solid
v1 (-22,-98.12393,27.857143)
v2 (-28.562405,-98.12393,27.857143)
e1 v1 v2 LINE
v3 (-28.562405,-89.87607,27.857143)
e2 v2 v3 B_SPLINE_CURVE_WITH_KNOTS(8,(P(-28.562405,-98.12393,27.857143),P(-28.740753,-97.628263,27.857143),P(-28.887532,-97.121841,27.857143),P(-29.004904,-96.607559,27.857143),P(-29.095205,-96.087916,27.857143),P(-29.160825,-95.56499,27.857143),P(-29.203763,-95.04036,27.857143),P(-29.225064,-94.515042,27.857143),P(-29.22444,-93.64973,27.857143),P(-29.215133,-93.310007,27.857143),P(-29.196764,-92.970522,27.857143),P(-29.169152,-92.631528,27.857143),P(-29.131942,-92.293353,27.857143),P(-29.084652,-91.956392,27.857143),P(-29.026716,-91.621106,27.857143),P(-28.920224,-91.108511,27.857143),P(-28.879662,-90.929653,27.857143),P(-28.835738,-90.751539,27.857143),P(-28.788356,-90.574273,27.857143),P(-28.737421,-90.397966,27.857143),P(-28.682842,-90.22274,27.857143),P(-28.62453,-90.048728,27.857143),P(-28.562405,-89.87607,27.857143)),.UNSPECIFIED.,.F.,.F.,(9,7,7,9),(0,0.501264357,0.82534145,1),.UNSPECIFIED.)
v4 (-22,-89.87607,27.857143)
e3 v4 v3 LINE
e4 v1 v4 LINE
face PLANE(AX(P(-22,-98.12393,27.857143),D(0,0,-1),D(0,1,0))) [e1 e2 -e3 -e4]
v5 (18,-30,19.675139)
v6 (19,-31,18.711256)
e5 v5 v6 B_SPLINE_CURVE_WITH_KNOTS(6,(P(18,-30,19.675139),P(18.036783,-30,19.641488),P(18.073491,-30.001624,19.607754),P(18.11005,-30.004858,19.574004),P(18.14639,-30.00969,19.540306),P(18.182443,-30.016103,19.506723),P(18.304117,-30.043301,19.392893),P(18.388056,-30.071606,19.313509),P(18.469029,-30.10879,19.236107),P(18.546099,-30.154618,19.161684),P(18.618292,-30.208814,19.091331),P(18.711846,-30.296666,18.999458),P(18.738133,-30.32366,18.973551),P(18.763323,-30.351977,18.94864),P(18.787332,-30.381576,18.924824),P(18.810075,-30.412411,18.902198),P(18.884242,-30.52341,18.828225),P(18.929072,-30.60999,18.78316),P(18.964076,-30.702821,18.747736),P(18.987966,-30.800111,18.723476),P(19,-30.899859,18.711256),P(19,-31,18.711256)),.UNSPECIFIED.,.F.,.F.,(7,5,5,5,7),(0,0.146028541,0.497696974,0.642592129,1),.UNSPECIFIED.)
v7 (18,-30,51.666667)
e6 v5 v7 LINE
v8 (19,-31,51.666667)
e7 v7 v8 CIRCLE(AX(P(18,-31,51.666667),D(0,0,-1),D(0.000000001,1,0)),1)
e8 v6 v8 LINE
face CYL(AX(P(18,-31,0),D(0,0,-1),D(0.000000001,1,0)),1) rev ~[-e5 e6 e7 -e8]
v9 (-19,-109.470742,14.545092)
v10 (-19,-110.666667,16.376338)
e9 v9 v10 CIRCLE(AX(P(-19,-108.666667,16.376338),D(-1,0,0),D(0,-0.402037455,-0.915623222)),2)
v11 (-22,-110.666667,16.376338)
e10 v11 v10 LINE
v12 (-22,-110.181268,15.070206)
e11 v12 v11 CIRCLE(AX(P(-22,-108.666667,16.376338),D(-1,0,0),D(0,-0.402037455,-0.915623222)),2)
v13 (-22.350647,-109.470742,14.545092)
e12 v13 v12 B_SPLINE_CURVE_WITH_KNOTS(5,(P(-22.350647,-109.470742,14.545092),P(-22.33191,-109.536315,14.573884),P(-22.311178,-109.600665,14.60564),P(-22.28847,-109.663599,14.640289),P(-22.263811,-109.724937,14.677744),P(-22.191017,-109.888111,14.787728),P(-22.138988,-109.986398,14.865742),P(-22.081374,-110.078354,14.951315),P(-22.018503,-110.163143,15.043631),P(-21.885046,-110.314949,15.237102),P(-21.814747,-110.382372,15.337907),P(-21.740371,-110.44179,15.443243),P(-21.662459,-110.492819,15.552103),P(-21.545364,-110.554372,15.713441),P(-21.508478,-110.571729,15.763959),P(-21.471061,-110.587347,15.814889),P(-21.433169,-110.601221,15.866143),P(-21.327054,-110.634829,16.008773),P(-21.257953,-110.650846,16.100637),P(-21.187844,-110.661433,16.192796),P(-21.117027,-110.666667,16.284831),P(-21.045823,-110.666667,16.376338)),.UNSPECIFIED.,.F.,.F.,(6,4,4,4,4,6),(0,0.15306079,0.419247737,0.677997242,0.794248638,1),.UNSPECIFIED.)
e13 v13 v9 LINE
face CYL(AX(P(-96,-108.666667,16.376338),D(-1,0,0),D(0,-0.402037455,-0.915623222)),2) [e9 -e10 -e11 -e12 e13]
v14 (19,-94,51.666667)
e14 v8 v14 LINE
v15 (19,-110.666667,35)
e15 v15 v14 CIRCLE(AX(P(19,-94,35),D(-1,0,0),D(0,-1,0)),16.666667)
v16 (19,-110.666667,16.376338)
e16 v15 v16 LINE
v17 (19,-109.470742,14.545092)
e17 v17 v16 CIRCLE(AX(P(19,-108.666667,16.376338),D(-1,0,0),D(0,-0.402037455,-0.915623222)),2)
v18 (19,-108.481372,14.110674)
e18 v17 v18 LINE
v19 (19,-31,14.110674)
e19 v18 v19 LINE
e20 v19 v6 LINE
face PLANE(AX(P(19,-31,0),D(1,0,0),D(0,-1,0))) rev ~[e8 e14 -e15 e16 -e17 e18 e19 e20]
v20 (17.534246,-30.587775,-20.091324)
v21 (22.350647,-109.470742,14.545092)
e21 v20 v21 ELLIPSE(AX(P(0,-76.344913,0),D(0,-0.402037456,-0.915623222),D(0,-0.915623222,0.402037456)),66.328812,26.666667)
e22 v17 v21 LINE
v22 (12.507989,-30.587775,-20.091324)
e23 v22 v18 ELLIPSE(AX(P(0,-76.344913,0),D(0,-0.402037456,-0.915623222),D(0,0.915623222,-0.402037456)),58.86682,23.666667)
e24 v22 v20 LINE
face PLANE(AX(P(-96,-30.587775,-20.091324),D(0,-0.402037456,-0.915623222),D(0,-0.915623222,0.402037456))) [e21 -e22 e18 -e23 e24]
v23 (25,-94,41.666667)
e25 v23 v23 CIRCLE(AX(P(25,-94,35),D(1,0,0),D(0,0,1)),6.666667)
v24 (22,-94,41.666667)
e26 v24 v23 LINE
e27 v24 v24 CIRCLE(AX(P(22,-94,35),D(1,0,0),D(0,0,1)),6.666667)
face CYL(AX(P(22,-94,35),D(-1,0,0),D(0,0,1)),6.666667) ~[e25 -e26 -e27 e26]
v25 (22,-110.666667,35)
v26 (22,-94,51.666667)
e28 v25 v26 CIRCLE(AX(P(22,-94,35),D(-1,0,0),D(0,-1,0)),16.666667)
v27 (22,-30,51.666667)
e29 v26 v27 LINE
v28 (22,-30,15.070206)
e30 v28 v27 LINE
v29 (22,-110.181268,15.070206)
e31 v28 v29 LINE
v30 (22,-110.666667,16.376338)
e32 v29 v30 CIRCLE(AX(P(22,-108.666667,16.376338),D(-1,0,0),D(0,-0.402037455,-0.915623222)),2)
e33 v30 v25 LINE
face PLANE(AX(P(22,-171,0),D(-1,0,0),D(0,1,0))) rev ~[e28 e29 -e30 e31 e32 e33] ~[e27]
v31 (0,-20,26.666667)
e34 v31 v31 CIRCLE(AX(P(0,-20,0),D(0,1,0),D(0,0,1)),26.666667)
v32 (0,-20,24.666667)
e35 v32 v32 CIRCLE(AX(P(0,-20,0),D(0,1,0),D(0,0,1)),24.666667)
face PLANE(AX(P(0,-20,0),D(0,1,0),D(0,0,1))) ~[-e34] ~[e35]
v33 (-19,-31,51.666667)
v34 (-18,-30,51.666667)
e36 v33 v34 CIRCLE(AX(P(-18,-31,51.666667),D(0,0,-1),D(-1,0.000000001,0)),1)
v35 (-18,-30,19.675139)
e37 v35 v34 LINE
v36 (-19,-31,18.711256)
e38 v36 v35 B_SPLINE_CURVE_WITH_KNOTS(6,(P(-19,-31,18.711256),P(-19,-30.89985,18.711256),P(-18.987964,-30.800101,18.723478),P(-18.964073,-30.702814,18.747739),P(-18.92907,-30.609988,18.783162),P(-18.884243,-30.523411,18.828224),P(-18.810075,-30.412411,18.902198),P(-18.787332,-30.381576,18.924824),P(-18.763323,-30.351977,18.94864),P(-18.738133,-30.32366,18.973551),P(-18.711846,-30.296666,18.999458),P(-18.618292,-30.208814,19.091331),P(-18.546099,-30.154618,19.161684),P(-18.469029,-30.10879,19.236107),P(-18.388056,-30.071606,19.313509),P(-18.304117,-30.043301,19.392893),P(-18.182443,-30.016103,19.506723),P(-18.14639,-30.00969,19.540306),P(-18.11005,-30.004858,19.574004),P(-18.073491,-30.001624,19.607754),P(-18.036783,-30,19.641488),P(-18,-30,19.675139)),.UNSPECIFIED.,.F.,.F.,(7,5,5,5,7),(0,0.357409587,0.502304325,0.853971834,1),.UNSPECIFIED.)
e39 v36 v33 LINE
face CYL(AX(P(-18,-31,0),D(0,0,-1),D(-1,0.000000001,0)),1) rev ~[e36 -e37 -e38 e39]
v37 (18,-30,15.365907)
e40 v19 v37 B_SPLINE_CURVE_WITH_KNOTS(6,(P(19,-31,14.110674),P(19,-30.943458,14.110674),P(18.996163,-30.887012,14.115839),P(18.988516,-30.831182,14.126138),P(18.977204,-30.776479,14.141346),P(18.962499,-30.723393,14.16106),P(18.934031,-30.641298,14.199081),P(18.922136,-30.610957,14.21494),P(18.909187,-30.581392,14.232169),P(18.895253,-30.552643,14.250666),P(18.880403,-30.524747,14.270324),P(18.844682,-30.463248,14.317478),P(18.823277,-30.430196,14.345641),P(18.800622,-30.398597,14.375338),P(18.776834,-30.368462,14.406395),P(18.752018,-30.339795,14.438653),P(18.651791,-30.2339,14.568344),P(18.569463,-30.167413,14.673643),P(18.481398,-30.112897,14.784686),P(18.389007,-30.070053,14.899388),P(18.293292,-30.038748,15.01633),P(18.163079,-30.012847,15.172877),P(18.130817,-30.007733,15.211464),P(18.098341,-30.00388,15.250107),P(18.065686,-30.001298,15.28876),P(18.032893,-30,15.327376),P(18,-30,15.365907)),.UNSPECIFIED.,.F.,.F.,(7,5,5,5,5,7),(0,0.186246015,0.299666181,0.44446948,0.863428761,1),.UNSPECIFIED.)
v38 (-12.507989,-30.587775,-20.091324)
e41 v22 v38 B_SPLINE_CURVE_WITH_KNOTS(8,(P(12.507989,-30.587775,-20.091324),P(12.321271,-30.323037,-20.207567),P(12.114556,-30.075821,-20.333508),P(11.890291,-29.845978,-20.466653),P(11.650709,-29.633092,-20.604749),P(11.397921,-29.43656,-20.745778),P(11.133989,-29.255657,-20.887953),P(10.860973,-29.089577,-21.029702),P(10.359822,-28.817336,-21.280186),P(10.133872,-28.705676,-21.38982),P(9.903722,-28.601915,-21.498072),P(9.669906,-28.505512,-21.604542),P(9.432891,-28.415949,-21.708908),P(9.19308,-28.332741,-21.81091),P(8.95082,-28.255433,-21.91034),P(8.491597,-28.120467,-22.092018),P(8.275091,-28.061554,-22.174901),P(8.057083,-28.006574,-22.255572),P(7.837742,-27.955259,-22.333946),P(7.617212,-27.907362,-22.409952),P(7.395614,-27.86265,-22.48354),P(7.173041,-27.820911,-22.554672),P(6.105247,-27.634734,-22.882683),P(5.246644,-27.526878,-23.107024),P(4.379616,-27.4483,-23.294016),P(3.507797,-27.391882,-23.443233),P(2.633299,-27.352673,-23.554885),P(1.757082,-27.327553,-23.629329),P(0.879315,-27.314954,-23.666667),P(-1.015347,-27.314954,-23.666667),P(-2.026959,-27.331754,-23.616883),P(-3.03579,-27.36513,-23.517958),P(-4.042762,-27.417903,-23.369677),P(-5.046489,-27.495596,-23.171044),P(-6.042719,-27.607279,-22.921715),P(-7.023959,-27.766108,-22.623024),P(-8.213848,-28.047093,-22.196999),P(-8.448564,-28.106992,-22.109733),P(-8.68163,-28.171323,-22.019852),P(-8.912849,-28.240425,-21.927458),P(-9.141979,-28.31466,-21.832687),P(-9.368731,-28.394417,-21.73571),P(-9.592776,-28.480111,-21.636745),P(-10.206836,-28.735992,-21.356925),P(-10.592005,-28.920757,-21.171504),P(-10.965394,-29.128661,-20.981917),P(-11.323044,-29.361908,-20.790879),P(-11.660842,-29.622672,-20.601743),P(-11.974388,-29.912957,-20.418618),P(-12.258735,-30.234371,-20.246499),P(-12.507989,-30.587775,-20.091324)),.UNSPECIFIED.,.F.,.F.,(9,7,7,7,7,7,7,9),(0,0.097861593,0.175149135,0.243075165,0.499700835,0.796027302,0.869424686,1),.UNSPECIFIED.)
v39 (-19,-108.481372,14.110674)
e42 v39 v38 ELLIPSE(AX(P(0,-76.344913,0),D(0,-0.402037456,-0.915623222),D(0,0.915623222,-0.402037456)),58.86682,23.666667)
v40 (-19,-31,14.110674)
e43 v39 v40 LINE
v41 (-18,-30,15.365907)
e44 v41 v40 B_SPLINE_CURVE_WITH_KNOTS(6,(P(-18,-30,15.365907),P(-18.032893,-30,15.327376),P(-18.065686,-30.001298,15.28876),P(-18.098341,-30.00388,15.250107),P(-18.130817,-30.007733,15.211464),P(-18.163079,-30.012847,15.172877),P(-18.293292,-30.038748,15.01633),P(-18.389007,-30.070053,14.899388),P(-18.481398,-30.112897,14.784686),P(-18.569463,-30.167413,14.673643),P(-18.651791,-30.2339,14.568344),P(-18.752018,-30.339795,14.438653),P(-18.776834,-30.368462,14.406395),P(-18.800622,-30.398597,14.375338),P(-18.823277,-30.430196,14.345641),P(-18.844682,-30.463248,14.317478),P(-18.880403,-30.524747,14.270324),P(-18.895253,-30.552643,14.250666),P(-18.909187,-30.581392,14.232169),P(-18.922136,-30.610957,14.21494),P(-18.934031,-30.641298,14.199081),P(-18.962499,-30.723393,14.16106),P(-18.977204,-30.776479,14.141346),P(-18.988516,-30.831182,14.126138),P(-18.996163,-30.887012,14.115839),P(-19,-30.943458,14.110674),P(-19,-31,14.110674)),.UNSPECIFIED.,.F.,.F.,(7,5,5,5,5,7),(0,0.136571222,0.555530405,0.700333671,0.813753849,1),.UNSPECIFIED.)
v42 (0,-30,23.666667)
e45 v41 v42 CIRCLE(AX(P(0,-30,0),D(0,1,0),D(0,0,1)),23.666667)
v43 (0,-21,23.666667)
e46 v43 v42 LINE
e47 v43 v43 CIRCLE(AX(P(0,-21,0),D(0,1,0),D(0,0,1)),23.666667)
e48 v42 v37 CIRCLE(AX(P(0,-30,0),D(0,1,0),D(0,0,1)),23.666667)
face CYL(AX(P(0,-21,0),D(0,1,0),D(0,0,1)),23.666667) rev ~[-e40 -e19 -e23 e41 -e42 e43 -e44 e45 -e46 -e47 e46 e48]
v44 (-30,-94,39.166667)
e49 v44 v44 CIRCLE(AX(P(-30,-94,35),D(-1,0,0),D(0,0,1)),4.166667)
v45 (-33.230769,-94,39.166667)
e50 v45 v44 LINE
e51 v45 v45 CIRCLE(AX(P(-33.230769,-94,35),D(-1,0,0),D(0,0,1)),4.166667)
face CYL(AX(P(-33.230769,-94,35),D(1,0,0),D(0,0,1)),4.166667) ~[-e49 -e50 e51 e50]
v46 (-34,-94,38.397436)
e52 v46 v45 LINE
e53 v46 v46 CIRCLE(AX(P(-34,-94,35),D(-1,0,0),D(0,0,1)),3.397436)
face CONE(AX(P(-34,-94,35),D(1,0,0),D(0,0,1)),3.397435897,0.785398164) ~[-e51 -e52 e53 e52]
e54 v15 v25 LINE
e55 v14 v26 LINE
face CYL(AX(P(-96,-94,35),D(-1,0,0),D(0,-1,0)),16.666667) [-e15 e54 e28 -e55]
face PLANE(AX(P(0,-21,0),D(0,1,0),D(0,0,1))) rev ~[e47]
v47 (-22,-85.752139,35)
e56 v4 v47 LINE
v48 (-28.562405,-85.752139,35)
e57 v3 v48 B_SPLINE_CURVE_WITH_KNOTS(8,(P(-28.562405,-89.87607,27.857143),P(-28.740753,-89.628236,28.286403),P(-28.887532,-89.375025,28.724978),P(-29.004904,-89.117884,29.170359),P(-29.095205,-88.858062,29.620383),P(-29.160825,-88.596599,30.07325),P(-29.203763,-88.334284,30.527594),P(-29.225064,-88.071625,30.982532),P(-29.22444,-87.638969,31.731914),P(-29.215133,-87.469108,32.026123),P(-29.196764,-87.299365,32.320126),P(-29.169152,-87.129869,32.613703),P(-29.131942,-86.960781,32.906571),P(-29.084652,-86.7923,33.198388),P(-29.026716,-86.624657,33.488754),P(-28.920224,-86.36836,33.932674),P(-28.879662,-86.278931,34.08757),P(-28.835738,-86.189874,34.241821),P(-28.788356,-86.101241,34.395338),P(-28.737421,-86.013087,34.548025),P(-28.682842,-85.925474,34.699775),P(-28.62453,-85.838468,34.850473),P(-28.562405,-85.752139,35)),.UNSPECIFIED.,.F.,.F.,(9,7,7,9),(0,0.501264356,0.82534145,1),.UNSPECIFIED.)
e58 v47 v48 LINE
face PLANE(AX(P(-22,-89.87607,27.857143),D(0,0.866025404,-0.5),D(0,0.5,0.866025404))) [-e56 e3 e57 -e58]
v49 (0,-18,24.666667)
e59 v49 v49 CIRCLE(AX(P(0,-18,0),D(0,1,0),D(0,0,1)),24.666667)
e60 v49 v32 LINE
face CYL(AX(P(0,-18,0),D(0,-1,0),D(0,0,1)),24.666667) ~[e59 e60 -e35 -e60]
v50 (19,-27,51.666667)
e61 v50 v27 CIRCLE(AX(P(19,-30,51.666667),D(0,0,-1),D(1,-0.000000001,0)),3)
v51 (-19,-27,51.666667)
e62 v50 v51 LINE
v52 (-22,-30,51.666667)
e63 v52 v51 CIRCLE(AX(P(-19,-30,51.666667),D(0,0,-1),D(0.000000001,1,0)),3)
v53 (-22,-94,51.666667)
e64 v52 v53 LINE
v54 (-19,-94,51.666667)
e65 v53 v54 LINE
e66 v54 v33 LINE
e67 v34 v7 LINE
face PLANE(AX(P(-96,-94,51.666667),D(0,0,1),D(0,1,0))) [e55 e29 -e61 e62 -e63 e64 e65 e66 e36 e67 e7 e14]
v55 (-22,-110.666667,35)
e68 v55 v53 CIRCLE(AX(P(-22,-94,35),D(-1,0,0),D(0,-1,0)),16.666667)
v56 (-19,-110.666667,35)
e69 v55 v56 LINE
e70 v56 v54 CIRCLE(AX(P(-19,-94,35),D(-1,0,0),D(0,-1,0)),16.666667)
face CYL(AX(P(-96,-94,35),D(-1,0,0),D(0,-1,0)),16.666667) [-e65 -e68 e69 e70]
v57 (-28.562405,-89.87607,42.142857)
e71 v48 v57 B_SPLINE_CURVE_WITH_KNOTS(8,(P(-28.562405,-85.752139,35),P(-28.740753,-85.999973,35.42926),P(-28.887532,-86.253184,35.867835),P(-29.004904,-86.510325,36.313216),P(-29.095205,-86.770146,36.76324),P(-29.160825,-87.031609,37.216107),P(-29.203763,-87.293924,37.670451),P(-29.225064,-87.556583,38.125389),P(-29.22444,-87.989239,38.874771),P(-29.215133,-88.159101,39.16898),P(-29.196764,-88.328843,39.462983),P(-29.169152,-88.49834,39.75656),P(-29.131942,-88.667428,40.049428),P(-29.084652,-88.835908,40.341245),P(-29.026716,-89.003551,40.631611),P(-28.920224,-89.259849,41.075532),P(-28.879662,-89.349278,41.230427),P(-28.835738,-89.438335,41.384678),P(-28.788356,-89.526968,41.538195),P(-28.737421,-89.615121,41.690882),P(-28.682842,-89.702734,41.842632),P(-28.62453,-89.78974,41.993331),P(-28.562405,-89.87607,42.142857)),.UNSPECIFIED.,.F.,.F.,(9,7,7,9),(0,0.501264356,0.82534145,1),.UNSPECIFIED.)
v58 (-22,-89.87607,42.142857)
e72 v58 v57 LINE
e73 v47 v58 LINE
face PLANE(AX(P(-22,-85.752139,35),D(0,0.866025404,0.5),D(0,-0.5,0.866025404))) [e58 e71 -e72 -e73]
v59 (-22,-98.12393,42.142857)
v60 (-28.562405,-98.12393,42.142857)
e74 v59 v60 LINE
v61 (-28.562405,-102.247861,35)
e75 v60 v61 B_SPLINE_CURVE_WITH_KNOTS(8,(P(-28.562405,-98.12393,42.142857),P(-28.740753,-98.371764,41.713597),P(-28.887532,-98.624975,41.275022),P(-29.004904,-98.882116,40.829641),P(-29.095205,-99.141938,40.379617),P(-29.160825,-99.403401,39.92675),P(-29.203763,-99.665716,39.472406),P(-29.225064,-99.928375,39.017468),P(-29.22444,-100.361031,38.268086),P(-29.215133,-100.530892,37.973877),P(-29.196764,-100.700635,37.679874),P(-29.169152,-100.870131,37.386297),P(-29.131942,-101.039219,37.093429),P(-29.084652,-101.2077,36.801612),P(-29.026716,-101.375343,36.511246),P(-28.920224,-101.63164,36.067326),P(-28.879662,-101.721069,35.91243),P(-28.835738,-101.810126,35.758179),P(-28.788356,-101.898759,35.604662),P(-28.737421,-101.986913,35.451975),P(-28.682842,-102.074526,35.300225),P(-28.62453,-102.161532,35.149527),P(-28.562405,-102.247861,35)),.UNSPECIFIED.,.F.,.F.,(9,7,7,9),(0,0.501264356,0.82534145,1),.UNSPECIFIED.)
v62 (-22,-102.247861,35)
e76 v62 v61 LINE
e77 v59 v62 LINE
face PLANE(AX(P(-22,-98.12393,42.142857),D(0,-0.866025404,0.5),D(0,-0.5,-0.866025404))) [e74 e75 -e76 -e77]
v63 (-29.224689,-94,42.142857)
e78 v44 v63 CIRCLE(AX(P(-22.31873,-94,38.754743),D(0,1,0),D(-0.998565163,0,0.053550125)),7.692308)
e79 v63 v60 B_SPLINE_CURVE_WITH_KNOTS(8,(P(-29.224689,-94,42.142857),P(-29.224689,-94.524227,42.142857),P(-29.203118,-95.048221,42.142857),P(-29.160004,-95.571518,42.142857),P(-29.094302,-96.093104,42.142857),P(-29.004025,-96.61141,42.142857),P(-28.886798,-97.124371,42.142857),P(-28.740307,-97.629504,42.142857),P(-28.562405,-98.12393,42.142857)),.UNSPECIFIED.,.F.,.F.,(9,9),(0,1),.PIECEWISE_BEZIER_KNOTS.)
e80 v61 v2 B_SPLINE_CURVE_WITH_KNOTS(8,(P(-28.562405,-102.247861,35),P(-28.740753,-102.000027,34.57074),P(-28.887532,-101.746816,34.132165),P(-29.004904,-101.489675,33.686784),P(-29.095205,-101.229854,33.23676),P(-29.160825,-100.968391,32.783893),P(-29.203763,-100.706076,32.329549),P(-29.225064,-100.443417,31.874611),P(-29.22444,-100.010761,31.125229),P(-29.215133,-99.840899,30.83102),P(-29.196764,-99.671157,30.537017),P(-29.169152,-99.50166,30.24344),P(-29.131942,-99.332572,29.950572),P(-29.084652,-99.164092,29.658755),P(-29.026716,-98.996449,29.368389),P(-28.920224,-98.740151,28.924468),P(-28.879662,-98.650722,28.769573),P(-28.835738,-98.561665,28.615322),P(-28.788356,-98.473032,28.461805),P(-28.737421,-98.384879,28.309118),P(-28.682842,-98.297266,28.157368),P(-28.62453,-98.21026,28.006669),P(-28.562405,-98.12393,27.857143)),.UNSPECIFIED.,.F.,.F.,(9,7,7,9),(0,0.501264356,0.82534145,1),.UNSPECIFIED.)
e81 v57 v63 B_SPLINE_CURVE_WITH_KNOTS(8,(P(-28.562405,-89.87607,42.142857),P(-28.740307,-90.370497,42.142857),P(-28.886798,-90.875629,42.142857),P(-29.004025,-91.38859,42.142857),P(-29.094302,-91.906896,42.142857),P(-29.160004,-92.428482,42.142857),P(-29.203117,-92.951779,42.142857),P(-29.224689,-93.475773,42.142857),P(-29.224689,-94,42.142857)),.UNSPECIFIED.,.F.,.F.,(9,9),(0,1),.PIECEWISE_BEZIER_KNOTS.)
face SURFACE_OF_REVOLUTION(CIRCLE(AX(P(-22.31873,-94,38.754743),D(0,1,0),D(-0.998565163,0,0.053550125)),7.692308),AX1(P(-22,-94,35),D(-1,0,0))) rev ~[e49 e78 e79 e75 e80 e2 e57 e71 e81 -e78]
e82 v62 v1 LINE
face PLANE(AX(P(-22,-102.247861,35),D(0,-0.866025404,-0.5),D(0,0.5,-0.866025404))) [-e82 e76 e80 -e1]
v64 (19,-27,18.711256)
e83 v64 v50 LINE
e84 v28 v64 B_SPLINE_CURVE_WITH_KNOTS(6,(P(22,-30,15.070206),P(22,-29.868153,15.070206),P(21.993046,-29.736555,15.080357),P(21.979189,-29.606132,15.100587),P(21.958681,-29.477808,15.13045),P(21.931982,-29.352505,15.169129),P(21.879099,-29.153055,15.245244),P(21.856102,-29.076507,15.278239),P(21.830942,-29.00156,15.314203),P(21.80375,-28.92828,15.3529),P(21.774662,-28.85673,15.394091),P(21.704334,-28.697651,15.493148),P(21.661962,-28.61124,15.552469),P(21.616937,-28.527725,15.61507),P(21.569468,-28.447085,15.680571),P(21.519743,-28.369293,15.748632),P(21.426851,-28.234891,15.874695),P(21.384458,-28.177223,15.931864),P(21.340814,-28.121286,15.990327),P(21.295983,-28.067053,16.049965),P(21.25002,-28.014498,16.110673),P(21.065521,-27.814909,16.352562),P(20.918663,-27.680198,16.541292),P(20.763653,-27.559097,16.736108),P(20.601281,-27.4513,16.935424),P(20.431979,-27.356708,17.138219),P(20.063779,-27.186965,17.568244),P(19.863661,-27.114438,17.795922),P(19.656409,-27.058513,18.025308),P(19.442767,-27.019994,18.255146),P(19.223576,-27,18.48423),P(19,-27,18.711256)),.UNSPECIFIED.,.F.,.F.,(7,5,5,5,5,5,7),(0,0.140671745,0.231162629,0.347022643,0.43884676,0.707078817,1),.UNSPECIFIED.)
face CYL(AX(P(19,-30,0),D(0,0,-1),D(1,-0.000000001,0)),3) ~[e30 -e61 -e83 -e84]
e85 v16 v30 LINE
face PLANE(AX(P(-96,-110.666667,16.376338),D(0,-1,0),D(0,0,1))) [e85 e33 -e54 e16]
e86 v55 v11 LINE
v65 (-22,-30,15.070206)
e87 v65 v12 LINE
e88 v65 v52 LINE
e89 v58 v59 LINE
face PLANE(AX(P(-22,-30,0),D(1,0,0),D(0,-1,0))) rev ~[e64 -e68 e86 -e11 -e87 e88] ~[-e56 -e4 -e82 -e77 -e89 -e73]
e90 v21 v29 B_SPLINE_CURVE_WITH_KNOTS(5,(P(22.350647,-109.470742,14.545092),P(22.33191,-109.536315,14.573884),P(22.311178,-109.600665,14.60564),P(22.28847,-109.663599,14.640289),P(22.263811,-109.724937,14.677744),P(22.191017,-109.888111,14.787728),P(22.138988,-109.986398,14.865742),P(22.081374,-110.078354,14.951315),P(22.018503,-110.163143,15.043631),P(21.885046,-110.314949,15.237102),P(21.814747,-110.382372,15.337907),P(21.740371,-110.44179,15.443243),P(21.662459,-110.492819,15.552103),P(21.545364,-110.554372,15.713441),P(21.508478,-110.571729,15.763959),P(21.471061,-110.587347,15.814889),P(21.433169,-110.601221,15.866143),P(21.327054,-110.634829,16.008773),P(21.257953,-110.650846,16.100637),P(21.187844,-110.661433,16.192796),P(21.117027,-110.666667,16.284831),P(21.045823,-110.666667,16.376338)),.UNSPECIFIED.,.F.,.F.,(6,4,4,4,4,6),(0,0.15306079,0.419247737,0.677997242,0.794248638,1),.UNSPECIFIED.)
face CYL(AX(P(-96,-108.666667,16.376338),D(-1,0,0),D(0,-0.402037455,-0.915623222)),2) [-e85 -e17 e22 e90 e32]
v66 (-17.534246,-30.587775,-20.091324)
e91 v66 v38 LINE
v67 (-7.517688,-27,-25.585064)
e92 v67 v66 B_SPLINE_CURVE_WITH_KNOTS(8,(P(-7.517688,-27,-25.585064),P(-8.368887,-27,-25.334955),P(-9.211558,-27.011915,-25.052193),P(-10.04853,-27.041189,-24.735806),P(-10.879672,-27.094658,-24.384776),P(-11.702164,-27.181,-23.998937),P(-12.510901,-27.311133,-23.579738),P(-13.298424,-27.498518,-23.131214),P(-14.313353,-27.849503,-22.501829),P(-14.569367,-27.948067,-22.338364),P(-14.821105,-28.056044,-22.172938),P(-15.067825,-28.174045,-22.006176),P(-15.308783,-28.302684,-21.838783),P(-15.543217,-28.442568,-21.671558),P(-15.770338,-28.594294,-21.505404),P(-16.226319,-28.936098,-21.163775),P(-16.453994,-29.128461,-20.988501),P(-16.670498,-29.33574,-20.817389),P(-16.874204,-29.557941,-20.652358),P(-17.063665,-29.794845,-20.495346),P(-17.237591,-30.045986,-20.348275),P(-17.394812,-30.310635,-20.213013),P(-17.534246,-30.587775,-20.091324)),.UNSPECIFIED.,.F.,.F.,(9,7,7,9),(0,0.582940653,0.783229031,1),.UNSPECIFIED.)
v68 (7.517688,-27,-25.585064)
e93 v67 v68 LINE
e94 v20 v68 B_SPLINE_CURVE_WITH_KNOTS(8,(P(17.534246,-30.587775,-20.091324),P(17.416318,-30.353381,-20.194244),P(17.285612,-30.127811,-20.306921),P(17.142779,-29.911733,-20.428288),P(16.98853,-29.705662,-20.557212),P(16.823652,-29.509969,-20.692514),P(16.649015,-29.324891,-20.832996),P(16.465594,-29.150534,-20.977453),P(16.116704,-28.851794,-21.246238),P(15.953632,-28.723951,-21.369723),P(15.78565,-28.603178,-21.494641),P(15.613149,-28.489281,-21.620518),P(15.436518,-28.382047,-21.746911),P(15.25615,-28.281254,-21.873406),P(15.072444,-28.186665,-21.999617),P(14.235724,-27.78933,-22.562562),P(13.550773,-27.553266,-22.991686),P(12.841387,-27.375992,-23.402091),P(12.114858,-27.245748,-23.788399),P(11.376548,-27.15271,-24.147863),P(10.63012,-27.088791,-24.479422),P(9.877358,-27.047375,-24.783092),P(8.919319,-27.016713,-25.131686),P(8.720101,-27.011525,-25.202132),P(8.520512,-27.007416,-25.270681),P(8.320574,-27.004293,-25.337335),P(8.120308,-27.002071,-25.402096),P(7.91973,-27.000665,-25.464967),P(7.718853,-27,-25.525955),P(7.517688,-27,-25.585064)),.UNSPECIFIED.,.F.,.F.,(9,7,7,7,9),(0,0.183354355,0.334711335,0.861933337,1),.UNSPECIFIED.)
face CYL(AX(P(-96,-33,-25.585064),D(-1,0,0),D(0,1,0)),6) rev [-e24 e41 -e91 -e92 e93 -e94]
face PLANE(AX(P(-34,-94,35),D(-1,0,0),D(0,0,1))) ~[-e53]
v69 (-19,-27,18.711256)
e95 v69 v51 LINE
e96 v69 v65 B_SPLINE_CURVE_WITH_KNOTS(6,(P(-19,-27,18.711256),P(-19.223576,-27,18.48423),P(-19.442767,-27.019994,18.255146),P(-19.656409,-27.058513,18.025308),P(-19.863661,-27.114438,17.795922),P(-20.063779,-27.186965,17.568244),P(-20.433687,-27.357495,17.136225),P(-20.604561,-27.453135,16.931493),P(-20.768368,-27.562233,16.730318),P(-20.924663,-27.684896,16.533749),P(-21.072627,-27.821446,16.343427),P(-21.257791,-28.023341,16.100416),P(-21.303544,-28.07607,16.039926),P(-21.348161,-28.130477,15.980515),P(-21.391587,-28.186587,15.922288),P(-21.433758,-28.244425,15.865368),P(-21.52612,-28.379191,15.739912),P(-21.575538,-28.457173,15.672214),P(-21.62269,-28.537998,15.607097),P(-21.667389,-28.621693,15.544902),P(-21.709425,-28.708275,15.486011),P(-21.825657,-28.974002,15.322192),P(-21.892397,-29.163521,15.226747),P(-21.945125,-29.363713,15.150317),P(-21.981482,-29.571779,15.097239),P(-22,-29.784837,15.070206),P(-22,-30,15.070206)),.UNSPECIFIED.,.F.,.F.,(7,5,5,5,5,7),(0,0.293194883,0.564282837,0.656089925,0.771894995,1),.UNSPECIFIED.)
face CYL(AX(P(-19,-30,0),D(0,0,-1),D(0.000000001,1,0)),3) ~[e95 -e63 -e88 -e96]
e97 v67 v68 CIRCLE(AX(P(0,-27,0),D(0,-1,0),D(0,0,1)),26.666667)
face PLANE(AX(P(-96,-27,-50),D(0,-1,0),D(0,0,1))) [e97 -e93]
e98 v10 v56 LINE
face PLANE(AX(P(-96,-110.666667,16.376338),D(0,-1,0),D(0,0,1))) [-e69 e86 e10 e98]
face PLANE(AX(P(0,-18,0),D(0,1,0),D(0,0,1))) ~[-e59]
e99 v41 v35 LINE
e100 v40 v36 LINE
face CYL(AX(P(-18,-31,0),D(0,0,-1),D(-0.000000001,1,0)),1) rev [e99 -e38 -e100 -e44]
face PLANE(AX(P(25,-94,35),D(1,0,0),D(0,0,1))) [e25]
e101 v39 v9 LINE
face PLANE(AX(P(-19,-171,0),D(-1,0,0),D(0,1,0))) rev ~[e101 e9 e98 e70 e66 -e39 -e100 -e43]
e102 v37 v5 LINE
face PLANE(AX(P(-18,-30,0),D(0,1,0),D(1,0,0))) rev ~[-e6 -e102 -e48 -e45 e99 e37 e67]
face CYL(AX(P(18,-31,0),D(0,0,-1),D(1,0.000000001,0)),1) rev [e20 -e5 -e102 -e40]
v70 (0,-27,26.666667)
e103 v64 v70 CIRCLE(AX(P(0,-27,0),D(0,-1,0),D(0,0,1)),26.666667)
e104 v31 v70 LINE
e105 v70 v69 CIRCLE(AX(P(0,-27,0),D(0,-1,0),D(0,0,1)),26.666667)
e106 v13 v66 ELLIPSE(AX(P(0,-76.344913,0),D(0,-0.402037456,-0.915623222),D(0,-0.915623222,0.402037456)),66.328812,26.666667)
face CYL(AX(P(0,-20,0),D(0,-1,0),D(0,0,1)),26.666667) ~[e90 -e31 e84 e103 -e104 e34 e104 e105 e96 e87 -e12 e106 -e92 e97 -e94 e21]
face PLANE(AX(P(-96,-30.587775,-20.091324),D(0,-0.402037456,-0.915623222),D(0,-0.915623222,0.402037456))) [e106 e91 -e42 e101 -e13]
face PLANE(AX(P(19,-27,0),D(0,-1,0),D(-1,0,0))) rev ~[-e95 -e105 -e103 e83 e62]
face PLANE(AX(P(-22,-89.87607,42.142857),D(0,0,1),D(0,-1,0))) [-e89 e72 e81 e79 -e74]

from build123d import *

# Parameters (mm, degrees)
EXTRUDE_1_DEPTH          = 96
CUT_EXTRUDE_1_DEPTH      = 96
SKETCH_4_R               = 23.666666667
CUT_EXTRUDE_2_DEPTH      = 144
CUT_EXTRUDE_3_DEPTH      = 96
CUT_EXTRUDE_3_DEPTH_BACK = 96
SKETCH_7_R               = 9.192307692
CUT_EXTRUDE_4_DEPTH      = 20
SKETCH_8_R               = 6.666666667
EXTRUDE_2_DEPTH          = 3


with BuildPart() as part:
    # 草图1 → 旋转1 (revolve)
    with BuildSketch(Plane.XY, mode=Mode.PRIVATE) as revolve_1_sk:
        Polygon((0, -18), (24.666666667, -18), (24.666666667, -20), (26.666666667, -20), (26.666666667, -162), (0, -162), align=None)
    revolve(revolve_1_sk.sketch.rotate(Axis((0, -162, 0), (0, 1, 0)), 270), axis=Axis((0, -162, 0), (0, 1, 0)))

    # 草图2 → 凸台-拉伸1 (add)
    with BuildSketch(Plane.XY):
        with BuildLine():
            Line((-22, -171), (-19, -171))
            Line((-19, -171), (-19, -31))
            ThreePointArc((-19, -31), (-18.707106781, -30.292893219), (-18, -30))
            Line((-18, -30), (18, -30))
            ThreePointArc((18, -30), (18.707106781, -30.292893219), (19, -31))
            Line((19, -31), (19, -171))
            Line((19, -171), (22, -171))
            Line((22, -171), (22, -30))
            ThreePointArc((22, -30), (21.121320344, -27.878679656), (19, -27))
            Line((19, -27), (-19, -27))
            ThreePointArc((-19, -27), (-21.121320344, -27.878679656), (-22, -30))
            Line((-22, -30), (-22, -171))
        make_face()
    extrude(amount=EXTRUDE_1_DEPTH)

    # 草图3 → 切除-拉伸1 (cut)
    with BuildSketch(Plane.XY):
        with BuildLine():
            Line((-19, -171), (19, -171))
            Line((19, -171), (19, -31))
            ThreePointArc((19, -31), (18.707106781, -30.292893219), (18, -30))
            Line((18, -30), (-18, -30))
            ThreePointArc((-18, -30), (-18.707106781, -30.292893219), (-19, -31))
            Line((-19, -31), (-19, -171))
        make_face()
    extrude(amount=CUT_EXTRUDE_1_DEPTH, mode=Mode.SUBTRACT)

    # 草图4 → 切除-拉伸2 (cut)
    with BuildSketch(Plane(origin=(0, -21, 0), x_dir=(1, 0, 0), z_dir=(0, 1, 0))):
        with Locations(Location((0, 0, 0), (0, 0, 270))):
            Circle(SKETCH_4_R)
    extrude(amount=-CUT_EXTRUDE_2_DEPTH, mode=Mode.SUBTRACT)

    # 草图5 → 切除-拉伸3 (cut, two sides: drawn at the far end of the back side and taken through both)
    with BuildSketch(Plane(origin=(0, 0, 0), x_dir=(0, 0, -1), z_dir=(1, 0, 0)).offset(-CUT_EXTRUDE_3_DEPTH_BACK)):
        with BuildLine():
            Line((-150, -250), (50, -250))
            Line((50, -250), (50, -27))
            Line((50, -27), (25.585063646, -27))
            ThreePointArc((25.585063646, -27), (22.304312848, -27.976388331), (20.091324315, -30.587775267))
            Line((20.091324315, -30.587775267), (-14.545091957, -109.470741578))
            ThreePointArc((-14.545091957, -109.470741578), (-15.282754801, -110.34120389), (-16.3763384, -110.666666667))
            Line((-16.3763384, -110.666666667), (-35, -110.666666667))
            ThreePointArc((-35, -110.666666667), (-46.78511302, -105.78511302), (-51.666666667, -94))
            Line((-51.666666667, -94), (-51.666666667, 0))
            Line((-51.666666667, 0), (-150, 0))
            Line((-150, 0), (-150, -250))
        make_face()
    extrude(amount=CUT_EXTRUDE_3_DEPTH + CUT_EXTRUDE_3_DEPTH_BACK, mode=Mode.SUBTRACT)

    # 草图6 → 旋转2 (revolve)
    with BuildSketch(Plane.XY.offset(35), mode=Mode.PRIVATE) as revolve_2_sk:
        with BuildLine():
            Line((-34, -94), (-34, -90.602564103))
            Line((-34, -90.602564103), (-33.230769231, -89.833333333))
            Line((-33.230769231, -89.833333333), (-30, -89.833333333))
            ThreePointArc((-30, -89.833333333), (-29.556324994, -87.639723002), (-28.5, -85.666666667))
            Line((-28.5, -85.666666667), (-22, -85.666666667))
            Line((-22, -85.666666667), (-22, -94))
            Line((-22, -94), (-34, -94))
        make_face()
    revolve(revolve_2_sk.sketch.rotate(Axis((-22, -94, 35), (-1, 0, 0)), 270), axis=Axis((-22, -94, 35), (-1, 0, 0)))

    # 草图7 → 切除-拉伸4 (cut)
    with BuildSketch(Plane(origin=(-22, 0, 0), x_dir=(0, 0, -1), z_dir=(1, 0, 0))):
        with Locations((-35, -94)):
            Circle(SKETCH_7_R)
        Polygon((-42.142857143, -89.876069506), (-42.142857143, -98.123930494), (-35, -102.247860988), (-27.857142857, -98.123930494), (-27.857142857, -89.876069506), (-35, -85.752139012), align=None, mode=Mode.SUBTRACT)
    extrude(amount=-CUT_EXTRUDE_4_DEPTH, mode=Mode.SUBTRACT)

    # 草图8 → 凸台-拉伸2 (add)
    with BuildSketch(Plane(origin=(22, 0, 0), x_dir=(0, 0, -1), z_dir=(1, 0, 0))):
        with Locations(Location((-35, -94, 0), (0, 0, 180))):
            Circle(SKETCH_8_R)
    extrude(amount=EXTRUDE_2_DEPTH)


solid = part.part
